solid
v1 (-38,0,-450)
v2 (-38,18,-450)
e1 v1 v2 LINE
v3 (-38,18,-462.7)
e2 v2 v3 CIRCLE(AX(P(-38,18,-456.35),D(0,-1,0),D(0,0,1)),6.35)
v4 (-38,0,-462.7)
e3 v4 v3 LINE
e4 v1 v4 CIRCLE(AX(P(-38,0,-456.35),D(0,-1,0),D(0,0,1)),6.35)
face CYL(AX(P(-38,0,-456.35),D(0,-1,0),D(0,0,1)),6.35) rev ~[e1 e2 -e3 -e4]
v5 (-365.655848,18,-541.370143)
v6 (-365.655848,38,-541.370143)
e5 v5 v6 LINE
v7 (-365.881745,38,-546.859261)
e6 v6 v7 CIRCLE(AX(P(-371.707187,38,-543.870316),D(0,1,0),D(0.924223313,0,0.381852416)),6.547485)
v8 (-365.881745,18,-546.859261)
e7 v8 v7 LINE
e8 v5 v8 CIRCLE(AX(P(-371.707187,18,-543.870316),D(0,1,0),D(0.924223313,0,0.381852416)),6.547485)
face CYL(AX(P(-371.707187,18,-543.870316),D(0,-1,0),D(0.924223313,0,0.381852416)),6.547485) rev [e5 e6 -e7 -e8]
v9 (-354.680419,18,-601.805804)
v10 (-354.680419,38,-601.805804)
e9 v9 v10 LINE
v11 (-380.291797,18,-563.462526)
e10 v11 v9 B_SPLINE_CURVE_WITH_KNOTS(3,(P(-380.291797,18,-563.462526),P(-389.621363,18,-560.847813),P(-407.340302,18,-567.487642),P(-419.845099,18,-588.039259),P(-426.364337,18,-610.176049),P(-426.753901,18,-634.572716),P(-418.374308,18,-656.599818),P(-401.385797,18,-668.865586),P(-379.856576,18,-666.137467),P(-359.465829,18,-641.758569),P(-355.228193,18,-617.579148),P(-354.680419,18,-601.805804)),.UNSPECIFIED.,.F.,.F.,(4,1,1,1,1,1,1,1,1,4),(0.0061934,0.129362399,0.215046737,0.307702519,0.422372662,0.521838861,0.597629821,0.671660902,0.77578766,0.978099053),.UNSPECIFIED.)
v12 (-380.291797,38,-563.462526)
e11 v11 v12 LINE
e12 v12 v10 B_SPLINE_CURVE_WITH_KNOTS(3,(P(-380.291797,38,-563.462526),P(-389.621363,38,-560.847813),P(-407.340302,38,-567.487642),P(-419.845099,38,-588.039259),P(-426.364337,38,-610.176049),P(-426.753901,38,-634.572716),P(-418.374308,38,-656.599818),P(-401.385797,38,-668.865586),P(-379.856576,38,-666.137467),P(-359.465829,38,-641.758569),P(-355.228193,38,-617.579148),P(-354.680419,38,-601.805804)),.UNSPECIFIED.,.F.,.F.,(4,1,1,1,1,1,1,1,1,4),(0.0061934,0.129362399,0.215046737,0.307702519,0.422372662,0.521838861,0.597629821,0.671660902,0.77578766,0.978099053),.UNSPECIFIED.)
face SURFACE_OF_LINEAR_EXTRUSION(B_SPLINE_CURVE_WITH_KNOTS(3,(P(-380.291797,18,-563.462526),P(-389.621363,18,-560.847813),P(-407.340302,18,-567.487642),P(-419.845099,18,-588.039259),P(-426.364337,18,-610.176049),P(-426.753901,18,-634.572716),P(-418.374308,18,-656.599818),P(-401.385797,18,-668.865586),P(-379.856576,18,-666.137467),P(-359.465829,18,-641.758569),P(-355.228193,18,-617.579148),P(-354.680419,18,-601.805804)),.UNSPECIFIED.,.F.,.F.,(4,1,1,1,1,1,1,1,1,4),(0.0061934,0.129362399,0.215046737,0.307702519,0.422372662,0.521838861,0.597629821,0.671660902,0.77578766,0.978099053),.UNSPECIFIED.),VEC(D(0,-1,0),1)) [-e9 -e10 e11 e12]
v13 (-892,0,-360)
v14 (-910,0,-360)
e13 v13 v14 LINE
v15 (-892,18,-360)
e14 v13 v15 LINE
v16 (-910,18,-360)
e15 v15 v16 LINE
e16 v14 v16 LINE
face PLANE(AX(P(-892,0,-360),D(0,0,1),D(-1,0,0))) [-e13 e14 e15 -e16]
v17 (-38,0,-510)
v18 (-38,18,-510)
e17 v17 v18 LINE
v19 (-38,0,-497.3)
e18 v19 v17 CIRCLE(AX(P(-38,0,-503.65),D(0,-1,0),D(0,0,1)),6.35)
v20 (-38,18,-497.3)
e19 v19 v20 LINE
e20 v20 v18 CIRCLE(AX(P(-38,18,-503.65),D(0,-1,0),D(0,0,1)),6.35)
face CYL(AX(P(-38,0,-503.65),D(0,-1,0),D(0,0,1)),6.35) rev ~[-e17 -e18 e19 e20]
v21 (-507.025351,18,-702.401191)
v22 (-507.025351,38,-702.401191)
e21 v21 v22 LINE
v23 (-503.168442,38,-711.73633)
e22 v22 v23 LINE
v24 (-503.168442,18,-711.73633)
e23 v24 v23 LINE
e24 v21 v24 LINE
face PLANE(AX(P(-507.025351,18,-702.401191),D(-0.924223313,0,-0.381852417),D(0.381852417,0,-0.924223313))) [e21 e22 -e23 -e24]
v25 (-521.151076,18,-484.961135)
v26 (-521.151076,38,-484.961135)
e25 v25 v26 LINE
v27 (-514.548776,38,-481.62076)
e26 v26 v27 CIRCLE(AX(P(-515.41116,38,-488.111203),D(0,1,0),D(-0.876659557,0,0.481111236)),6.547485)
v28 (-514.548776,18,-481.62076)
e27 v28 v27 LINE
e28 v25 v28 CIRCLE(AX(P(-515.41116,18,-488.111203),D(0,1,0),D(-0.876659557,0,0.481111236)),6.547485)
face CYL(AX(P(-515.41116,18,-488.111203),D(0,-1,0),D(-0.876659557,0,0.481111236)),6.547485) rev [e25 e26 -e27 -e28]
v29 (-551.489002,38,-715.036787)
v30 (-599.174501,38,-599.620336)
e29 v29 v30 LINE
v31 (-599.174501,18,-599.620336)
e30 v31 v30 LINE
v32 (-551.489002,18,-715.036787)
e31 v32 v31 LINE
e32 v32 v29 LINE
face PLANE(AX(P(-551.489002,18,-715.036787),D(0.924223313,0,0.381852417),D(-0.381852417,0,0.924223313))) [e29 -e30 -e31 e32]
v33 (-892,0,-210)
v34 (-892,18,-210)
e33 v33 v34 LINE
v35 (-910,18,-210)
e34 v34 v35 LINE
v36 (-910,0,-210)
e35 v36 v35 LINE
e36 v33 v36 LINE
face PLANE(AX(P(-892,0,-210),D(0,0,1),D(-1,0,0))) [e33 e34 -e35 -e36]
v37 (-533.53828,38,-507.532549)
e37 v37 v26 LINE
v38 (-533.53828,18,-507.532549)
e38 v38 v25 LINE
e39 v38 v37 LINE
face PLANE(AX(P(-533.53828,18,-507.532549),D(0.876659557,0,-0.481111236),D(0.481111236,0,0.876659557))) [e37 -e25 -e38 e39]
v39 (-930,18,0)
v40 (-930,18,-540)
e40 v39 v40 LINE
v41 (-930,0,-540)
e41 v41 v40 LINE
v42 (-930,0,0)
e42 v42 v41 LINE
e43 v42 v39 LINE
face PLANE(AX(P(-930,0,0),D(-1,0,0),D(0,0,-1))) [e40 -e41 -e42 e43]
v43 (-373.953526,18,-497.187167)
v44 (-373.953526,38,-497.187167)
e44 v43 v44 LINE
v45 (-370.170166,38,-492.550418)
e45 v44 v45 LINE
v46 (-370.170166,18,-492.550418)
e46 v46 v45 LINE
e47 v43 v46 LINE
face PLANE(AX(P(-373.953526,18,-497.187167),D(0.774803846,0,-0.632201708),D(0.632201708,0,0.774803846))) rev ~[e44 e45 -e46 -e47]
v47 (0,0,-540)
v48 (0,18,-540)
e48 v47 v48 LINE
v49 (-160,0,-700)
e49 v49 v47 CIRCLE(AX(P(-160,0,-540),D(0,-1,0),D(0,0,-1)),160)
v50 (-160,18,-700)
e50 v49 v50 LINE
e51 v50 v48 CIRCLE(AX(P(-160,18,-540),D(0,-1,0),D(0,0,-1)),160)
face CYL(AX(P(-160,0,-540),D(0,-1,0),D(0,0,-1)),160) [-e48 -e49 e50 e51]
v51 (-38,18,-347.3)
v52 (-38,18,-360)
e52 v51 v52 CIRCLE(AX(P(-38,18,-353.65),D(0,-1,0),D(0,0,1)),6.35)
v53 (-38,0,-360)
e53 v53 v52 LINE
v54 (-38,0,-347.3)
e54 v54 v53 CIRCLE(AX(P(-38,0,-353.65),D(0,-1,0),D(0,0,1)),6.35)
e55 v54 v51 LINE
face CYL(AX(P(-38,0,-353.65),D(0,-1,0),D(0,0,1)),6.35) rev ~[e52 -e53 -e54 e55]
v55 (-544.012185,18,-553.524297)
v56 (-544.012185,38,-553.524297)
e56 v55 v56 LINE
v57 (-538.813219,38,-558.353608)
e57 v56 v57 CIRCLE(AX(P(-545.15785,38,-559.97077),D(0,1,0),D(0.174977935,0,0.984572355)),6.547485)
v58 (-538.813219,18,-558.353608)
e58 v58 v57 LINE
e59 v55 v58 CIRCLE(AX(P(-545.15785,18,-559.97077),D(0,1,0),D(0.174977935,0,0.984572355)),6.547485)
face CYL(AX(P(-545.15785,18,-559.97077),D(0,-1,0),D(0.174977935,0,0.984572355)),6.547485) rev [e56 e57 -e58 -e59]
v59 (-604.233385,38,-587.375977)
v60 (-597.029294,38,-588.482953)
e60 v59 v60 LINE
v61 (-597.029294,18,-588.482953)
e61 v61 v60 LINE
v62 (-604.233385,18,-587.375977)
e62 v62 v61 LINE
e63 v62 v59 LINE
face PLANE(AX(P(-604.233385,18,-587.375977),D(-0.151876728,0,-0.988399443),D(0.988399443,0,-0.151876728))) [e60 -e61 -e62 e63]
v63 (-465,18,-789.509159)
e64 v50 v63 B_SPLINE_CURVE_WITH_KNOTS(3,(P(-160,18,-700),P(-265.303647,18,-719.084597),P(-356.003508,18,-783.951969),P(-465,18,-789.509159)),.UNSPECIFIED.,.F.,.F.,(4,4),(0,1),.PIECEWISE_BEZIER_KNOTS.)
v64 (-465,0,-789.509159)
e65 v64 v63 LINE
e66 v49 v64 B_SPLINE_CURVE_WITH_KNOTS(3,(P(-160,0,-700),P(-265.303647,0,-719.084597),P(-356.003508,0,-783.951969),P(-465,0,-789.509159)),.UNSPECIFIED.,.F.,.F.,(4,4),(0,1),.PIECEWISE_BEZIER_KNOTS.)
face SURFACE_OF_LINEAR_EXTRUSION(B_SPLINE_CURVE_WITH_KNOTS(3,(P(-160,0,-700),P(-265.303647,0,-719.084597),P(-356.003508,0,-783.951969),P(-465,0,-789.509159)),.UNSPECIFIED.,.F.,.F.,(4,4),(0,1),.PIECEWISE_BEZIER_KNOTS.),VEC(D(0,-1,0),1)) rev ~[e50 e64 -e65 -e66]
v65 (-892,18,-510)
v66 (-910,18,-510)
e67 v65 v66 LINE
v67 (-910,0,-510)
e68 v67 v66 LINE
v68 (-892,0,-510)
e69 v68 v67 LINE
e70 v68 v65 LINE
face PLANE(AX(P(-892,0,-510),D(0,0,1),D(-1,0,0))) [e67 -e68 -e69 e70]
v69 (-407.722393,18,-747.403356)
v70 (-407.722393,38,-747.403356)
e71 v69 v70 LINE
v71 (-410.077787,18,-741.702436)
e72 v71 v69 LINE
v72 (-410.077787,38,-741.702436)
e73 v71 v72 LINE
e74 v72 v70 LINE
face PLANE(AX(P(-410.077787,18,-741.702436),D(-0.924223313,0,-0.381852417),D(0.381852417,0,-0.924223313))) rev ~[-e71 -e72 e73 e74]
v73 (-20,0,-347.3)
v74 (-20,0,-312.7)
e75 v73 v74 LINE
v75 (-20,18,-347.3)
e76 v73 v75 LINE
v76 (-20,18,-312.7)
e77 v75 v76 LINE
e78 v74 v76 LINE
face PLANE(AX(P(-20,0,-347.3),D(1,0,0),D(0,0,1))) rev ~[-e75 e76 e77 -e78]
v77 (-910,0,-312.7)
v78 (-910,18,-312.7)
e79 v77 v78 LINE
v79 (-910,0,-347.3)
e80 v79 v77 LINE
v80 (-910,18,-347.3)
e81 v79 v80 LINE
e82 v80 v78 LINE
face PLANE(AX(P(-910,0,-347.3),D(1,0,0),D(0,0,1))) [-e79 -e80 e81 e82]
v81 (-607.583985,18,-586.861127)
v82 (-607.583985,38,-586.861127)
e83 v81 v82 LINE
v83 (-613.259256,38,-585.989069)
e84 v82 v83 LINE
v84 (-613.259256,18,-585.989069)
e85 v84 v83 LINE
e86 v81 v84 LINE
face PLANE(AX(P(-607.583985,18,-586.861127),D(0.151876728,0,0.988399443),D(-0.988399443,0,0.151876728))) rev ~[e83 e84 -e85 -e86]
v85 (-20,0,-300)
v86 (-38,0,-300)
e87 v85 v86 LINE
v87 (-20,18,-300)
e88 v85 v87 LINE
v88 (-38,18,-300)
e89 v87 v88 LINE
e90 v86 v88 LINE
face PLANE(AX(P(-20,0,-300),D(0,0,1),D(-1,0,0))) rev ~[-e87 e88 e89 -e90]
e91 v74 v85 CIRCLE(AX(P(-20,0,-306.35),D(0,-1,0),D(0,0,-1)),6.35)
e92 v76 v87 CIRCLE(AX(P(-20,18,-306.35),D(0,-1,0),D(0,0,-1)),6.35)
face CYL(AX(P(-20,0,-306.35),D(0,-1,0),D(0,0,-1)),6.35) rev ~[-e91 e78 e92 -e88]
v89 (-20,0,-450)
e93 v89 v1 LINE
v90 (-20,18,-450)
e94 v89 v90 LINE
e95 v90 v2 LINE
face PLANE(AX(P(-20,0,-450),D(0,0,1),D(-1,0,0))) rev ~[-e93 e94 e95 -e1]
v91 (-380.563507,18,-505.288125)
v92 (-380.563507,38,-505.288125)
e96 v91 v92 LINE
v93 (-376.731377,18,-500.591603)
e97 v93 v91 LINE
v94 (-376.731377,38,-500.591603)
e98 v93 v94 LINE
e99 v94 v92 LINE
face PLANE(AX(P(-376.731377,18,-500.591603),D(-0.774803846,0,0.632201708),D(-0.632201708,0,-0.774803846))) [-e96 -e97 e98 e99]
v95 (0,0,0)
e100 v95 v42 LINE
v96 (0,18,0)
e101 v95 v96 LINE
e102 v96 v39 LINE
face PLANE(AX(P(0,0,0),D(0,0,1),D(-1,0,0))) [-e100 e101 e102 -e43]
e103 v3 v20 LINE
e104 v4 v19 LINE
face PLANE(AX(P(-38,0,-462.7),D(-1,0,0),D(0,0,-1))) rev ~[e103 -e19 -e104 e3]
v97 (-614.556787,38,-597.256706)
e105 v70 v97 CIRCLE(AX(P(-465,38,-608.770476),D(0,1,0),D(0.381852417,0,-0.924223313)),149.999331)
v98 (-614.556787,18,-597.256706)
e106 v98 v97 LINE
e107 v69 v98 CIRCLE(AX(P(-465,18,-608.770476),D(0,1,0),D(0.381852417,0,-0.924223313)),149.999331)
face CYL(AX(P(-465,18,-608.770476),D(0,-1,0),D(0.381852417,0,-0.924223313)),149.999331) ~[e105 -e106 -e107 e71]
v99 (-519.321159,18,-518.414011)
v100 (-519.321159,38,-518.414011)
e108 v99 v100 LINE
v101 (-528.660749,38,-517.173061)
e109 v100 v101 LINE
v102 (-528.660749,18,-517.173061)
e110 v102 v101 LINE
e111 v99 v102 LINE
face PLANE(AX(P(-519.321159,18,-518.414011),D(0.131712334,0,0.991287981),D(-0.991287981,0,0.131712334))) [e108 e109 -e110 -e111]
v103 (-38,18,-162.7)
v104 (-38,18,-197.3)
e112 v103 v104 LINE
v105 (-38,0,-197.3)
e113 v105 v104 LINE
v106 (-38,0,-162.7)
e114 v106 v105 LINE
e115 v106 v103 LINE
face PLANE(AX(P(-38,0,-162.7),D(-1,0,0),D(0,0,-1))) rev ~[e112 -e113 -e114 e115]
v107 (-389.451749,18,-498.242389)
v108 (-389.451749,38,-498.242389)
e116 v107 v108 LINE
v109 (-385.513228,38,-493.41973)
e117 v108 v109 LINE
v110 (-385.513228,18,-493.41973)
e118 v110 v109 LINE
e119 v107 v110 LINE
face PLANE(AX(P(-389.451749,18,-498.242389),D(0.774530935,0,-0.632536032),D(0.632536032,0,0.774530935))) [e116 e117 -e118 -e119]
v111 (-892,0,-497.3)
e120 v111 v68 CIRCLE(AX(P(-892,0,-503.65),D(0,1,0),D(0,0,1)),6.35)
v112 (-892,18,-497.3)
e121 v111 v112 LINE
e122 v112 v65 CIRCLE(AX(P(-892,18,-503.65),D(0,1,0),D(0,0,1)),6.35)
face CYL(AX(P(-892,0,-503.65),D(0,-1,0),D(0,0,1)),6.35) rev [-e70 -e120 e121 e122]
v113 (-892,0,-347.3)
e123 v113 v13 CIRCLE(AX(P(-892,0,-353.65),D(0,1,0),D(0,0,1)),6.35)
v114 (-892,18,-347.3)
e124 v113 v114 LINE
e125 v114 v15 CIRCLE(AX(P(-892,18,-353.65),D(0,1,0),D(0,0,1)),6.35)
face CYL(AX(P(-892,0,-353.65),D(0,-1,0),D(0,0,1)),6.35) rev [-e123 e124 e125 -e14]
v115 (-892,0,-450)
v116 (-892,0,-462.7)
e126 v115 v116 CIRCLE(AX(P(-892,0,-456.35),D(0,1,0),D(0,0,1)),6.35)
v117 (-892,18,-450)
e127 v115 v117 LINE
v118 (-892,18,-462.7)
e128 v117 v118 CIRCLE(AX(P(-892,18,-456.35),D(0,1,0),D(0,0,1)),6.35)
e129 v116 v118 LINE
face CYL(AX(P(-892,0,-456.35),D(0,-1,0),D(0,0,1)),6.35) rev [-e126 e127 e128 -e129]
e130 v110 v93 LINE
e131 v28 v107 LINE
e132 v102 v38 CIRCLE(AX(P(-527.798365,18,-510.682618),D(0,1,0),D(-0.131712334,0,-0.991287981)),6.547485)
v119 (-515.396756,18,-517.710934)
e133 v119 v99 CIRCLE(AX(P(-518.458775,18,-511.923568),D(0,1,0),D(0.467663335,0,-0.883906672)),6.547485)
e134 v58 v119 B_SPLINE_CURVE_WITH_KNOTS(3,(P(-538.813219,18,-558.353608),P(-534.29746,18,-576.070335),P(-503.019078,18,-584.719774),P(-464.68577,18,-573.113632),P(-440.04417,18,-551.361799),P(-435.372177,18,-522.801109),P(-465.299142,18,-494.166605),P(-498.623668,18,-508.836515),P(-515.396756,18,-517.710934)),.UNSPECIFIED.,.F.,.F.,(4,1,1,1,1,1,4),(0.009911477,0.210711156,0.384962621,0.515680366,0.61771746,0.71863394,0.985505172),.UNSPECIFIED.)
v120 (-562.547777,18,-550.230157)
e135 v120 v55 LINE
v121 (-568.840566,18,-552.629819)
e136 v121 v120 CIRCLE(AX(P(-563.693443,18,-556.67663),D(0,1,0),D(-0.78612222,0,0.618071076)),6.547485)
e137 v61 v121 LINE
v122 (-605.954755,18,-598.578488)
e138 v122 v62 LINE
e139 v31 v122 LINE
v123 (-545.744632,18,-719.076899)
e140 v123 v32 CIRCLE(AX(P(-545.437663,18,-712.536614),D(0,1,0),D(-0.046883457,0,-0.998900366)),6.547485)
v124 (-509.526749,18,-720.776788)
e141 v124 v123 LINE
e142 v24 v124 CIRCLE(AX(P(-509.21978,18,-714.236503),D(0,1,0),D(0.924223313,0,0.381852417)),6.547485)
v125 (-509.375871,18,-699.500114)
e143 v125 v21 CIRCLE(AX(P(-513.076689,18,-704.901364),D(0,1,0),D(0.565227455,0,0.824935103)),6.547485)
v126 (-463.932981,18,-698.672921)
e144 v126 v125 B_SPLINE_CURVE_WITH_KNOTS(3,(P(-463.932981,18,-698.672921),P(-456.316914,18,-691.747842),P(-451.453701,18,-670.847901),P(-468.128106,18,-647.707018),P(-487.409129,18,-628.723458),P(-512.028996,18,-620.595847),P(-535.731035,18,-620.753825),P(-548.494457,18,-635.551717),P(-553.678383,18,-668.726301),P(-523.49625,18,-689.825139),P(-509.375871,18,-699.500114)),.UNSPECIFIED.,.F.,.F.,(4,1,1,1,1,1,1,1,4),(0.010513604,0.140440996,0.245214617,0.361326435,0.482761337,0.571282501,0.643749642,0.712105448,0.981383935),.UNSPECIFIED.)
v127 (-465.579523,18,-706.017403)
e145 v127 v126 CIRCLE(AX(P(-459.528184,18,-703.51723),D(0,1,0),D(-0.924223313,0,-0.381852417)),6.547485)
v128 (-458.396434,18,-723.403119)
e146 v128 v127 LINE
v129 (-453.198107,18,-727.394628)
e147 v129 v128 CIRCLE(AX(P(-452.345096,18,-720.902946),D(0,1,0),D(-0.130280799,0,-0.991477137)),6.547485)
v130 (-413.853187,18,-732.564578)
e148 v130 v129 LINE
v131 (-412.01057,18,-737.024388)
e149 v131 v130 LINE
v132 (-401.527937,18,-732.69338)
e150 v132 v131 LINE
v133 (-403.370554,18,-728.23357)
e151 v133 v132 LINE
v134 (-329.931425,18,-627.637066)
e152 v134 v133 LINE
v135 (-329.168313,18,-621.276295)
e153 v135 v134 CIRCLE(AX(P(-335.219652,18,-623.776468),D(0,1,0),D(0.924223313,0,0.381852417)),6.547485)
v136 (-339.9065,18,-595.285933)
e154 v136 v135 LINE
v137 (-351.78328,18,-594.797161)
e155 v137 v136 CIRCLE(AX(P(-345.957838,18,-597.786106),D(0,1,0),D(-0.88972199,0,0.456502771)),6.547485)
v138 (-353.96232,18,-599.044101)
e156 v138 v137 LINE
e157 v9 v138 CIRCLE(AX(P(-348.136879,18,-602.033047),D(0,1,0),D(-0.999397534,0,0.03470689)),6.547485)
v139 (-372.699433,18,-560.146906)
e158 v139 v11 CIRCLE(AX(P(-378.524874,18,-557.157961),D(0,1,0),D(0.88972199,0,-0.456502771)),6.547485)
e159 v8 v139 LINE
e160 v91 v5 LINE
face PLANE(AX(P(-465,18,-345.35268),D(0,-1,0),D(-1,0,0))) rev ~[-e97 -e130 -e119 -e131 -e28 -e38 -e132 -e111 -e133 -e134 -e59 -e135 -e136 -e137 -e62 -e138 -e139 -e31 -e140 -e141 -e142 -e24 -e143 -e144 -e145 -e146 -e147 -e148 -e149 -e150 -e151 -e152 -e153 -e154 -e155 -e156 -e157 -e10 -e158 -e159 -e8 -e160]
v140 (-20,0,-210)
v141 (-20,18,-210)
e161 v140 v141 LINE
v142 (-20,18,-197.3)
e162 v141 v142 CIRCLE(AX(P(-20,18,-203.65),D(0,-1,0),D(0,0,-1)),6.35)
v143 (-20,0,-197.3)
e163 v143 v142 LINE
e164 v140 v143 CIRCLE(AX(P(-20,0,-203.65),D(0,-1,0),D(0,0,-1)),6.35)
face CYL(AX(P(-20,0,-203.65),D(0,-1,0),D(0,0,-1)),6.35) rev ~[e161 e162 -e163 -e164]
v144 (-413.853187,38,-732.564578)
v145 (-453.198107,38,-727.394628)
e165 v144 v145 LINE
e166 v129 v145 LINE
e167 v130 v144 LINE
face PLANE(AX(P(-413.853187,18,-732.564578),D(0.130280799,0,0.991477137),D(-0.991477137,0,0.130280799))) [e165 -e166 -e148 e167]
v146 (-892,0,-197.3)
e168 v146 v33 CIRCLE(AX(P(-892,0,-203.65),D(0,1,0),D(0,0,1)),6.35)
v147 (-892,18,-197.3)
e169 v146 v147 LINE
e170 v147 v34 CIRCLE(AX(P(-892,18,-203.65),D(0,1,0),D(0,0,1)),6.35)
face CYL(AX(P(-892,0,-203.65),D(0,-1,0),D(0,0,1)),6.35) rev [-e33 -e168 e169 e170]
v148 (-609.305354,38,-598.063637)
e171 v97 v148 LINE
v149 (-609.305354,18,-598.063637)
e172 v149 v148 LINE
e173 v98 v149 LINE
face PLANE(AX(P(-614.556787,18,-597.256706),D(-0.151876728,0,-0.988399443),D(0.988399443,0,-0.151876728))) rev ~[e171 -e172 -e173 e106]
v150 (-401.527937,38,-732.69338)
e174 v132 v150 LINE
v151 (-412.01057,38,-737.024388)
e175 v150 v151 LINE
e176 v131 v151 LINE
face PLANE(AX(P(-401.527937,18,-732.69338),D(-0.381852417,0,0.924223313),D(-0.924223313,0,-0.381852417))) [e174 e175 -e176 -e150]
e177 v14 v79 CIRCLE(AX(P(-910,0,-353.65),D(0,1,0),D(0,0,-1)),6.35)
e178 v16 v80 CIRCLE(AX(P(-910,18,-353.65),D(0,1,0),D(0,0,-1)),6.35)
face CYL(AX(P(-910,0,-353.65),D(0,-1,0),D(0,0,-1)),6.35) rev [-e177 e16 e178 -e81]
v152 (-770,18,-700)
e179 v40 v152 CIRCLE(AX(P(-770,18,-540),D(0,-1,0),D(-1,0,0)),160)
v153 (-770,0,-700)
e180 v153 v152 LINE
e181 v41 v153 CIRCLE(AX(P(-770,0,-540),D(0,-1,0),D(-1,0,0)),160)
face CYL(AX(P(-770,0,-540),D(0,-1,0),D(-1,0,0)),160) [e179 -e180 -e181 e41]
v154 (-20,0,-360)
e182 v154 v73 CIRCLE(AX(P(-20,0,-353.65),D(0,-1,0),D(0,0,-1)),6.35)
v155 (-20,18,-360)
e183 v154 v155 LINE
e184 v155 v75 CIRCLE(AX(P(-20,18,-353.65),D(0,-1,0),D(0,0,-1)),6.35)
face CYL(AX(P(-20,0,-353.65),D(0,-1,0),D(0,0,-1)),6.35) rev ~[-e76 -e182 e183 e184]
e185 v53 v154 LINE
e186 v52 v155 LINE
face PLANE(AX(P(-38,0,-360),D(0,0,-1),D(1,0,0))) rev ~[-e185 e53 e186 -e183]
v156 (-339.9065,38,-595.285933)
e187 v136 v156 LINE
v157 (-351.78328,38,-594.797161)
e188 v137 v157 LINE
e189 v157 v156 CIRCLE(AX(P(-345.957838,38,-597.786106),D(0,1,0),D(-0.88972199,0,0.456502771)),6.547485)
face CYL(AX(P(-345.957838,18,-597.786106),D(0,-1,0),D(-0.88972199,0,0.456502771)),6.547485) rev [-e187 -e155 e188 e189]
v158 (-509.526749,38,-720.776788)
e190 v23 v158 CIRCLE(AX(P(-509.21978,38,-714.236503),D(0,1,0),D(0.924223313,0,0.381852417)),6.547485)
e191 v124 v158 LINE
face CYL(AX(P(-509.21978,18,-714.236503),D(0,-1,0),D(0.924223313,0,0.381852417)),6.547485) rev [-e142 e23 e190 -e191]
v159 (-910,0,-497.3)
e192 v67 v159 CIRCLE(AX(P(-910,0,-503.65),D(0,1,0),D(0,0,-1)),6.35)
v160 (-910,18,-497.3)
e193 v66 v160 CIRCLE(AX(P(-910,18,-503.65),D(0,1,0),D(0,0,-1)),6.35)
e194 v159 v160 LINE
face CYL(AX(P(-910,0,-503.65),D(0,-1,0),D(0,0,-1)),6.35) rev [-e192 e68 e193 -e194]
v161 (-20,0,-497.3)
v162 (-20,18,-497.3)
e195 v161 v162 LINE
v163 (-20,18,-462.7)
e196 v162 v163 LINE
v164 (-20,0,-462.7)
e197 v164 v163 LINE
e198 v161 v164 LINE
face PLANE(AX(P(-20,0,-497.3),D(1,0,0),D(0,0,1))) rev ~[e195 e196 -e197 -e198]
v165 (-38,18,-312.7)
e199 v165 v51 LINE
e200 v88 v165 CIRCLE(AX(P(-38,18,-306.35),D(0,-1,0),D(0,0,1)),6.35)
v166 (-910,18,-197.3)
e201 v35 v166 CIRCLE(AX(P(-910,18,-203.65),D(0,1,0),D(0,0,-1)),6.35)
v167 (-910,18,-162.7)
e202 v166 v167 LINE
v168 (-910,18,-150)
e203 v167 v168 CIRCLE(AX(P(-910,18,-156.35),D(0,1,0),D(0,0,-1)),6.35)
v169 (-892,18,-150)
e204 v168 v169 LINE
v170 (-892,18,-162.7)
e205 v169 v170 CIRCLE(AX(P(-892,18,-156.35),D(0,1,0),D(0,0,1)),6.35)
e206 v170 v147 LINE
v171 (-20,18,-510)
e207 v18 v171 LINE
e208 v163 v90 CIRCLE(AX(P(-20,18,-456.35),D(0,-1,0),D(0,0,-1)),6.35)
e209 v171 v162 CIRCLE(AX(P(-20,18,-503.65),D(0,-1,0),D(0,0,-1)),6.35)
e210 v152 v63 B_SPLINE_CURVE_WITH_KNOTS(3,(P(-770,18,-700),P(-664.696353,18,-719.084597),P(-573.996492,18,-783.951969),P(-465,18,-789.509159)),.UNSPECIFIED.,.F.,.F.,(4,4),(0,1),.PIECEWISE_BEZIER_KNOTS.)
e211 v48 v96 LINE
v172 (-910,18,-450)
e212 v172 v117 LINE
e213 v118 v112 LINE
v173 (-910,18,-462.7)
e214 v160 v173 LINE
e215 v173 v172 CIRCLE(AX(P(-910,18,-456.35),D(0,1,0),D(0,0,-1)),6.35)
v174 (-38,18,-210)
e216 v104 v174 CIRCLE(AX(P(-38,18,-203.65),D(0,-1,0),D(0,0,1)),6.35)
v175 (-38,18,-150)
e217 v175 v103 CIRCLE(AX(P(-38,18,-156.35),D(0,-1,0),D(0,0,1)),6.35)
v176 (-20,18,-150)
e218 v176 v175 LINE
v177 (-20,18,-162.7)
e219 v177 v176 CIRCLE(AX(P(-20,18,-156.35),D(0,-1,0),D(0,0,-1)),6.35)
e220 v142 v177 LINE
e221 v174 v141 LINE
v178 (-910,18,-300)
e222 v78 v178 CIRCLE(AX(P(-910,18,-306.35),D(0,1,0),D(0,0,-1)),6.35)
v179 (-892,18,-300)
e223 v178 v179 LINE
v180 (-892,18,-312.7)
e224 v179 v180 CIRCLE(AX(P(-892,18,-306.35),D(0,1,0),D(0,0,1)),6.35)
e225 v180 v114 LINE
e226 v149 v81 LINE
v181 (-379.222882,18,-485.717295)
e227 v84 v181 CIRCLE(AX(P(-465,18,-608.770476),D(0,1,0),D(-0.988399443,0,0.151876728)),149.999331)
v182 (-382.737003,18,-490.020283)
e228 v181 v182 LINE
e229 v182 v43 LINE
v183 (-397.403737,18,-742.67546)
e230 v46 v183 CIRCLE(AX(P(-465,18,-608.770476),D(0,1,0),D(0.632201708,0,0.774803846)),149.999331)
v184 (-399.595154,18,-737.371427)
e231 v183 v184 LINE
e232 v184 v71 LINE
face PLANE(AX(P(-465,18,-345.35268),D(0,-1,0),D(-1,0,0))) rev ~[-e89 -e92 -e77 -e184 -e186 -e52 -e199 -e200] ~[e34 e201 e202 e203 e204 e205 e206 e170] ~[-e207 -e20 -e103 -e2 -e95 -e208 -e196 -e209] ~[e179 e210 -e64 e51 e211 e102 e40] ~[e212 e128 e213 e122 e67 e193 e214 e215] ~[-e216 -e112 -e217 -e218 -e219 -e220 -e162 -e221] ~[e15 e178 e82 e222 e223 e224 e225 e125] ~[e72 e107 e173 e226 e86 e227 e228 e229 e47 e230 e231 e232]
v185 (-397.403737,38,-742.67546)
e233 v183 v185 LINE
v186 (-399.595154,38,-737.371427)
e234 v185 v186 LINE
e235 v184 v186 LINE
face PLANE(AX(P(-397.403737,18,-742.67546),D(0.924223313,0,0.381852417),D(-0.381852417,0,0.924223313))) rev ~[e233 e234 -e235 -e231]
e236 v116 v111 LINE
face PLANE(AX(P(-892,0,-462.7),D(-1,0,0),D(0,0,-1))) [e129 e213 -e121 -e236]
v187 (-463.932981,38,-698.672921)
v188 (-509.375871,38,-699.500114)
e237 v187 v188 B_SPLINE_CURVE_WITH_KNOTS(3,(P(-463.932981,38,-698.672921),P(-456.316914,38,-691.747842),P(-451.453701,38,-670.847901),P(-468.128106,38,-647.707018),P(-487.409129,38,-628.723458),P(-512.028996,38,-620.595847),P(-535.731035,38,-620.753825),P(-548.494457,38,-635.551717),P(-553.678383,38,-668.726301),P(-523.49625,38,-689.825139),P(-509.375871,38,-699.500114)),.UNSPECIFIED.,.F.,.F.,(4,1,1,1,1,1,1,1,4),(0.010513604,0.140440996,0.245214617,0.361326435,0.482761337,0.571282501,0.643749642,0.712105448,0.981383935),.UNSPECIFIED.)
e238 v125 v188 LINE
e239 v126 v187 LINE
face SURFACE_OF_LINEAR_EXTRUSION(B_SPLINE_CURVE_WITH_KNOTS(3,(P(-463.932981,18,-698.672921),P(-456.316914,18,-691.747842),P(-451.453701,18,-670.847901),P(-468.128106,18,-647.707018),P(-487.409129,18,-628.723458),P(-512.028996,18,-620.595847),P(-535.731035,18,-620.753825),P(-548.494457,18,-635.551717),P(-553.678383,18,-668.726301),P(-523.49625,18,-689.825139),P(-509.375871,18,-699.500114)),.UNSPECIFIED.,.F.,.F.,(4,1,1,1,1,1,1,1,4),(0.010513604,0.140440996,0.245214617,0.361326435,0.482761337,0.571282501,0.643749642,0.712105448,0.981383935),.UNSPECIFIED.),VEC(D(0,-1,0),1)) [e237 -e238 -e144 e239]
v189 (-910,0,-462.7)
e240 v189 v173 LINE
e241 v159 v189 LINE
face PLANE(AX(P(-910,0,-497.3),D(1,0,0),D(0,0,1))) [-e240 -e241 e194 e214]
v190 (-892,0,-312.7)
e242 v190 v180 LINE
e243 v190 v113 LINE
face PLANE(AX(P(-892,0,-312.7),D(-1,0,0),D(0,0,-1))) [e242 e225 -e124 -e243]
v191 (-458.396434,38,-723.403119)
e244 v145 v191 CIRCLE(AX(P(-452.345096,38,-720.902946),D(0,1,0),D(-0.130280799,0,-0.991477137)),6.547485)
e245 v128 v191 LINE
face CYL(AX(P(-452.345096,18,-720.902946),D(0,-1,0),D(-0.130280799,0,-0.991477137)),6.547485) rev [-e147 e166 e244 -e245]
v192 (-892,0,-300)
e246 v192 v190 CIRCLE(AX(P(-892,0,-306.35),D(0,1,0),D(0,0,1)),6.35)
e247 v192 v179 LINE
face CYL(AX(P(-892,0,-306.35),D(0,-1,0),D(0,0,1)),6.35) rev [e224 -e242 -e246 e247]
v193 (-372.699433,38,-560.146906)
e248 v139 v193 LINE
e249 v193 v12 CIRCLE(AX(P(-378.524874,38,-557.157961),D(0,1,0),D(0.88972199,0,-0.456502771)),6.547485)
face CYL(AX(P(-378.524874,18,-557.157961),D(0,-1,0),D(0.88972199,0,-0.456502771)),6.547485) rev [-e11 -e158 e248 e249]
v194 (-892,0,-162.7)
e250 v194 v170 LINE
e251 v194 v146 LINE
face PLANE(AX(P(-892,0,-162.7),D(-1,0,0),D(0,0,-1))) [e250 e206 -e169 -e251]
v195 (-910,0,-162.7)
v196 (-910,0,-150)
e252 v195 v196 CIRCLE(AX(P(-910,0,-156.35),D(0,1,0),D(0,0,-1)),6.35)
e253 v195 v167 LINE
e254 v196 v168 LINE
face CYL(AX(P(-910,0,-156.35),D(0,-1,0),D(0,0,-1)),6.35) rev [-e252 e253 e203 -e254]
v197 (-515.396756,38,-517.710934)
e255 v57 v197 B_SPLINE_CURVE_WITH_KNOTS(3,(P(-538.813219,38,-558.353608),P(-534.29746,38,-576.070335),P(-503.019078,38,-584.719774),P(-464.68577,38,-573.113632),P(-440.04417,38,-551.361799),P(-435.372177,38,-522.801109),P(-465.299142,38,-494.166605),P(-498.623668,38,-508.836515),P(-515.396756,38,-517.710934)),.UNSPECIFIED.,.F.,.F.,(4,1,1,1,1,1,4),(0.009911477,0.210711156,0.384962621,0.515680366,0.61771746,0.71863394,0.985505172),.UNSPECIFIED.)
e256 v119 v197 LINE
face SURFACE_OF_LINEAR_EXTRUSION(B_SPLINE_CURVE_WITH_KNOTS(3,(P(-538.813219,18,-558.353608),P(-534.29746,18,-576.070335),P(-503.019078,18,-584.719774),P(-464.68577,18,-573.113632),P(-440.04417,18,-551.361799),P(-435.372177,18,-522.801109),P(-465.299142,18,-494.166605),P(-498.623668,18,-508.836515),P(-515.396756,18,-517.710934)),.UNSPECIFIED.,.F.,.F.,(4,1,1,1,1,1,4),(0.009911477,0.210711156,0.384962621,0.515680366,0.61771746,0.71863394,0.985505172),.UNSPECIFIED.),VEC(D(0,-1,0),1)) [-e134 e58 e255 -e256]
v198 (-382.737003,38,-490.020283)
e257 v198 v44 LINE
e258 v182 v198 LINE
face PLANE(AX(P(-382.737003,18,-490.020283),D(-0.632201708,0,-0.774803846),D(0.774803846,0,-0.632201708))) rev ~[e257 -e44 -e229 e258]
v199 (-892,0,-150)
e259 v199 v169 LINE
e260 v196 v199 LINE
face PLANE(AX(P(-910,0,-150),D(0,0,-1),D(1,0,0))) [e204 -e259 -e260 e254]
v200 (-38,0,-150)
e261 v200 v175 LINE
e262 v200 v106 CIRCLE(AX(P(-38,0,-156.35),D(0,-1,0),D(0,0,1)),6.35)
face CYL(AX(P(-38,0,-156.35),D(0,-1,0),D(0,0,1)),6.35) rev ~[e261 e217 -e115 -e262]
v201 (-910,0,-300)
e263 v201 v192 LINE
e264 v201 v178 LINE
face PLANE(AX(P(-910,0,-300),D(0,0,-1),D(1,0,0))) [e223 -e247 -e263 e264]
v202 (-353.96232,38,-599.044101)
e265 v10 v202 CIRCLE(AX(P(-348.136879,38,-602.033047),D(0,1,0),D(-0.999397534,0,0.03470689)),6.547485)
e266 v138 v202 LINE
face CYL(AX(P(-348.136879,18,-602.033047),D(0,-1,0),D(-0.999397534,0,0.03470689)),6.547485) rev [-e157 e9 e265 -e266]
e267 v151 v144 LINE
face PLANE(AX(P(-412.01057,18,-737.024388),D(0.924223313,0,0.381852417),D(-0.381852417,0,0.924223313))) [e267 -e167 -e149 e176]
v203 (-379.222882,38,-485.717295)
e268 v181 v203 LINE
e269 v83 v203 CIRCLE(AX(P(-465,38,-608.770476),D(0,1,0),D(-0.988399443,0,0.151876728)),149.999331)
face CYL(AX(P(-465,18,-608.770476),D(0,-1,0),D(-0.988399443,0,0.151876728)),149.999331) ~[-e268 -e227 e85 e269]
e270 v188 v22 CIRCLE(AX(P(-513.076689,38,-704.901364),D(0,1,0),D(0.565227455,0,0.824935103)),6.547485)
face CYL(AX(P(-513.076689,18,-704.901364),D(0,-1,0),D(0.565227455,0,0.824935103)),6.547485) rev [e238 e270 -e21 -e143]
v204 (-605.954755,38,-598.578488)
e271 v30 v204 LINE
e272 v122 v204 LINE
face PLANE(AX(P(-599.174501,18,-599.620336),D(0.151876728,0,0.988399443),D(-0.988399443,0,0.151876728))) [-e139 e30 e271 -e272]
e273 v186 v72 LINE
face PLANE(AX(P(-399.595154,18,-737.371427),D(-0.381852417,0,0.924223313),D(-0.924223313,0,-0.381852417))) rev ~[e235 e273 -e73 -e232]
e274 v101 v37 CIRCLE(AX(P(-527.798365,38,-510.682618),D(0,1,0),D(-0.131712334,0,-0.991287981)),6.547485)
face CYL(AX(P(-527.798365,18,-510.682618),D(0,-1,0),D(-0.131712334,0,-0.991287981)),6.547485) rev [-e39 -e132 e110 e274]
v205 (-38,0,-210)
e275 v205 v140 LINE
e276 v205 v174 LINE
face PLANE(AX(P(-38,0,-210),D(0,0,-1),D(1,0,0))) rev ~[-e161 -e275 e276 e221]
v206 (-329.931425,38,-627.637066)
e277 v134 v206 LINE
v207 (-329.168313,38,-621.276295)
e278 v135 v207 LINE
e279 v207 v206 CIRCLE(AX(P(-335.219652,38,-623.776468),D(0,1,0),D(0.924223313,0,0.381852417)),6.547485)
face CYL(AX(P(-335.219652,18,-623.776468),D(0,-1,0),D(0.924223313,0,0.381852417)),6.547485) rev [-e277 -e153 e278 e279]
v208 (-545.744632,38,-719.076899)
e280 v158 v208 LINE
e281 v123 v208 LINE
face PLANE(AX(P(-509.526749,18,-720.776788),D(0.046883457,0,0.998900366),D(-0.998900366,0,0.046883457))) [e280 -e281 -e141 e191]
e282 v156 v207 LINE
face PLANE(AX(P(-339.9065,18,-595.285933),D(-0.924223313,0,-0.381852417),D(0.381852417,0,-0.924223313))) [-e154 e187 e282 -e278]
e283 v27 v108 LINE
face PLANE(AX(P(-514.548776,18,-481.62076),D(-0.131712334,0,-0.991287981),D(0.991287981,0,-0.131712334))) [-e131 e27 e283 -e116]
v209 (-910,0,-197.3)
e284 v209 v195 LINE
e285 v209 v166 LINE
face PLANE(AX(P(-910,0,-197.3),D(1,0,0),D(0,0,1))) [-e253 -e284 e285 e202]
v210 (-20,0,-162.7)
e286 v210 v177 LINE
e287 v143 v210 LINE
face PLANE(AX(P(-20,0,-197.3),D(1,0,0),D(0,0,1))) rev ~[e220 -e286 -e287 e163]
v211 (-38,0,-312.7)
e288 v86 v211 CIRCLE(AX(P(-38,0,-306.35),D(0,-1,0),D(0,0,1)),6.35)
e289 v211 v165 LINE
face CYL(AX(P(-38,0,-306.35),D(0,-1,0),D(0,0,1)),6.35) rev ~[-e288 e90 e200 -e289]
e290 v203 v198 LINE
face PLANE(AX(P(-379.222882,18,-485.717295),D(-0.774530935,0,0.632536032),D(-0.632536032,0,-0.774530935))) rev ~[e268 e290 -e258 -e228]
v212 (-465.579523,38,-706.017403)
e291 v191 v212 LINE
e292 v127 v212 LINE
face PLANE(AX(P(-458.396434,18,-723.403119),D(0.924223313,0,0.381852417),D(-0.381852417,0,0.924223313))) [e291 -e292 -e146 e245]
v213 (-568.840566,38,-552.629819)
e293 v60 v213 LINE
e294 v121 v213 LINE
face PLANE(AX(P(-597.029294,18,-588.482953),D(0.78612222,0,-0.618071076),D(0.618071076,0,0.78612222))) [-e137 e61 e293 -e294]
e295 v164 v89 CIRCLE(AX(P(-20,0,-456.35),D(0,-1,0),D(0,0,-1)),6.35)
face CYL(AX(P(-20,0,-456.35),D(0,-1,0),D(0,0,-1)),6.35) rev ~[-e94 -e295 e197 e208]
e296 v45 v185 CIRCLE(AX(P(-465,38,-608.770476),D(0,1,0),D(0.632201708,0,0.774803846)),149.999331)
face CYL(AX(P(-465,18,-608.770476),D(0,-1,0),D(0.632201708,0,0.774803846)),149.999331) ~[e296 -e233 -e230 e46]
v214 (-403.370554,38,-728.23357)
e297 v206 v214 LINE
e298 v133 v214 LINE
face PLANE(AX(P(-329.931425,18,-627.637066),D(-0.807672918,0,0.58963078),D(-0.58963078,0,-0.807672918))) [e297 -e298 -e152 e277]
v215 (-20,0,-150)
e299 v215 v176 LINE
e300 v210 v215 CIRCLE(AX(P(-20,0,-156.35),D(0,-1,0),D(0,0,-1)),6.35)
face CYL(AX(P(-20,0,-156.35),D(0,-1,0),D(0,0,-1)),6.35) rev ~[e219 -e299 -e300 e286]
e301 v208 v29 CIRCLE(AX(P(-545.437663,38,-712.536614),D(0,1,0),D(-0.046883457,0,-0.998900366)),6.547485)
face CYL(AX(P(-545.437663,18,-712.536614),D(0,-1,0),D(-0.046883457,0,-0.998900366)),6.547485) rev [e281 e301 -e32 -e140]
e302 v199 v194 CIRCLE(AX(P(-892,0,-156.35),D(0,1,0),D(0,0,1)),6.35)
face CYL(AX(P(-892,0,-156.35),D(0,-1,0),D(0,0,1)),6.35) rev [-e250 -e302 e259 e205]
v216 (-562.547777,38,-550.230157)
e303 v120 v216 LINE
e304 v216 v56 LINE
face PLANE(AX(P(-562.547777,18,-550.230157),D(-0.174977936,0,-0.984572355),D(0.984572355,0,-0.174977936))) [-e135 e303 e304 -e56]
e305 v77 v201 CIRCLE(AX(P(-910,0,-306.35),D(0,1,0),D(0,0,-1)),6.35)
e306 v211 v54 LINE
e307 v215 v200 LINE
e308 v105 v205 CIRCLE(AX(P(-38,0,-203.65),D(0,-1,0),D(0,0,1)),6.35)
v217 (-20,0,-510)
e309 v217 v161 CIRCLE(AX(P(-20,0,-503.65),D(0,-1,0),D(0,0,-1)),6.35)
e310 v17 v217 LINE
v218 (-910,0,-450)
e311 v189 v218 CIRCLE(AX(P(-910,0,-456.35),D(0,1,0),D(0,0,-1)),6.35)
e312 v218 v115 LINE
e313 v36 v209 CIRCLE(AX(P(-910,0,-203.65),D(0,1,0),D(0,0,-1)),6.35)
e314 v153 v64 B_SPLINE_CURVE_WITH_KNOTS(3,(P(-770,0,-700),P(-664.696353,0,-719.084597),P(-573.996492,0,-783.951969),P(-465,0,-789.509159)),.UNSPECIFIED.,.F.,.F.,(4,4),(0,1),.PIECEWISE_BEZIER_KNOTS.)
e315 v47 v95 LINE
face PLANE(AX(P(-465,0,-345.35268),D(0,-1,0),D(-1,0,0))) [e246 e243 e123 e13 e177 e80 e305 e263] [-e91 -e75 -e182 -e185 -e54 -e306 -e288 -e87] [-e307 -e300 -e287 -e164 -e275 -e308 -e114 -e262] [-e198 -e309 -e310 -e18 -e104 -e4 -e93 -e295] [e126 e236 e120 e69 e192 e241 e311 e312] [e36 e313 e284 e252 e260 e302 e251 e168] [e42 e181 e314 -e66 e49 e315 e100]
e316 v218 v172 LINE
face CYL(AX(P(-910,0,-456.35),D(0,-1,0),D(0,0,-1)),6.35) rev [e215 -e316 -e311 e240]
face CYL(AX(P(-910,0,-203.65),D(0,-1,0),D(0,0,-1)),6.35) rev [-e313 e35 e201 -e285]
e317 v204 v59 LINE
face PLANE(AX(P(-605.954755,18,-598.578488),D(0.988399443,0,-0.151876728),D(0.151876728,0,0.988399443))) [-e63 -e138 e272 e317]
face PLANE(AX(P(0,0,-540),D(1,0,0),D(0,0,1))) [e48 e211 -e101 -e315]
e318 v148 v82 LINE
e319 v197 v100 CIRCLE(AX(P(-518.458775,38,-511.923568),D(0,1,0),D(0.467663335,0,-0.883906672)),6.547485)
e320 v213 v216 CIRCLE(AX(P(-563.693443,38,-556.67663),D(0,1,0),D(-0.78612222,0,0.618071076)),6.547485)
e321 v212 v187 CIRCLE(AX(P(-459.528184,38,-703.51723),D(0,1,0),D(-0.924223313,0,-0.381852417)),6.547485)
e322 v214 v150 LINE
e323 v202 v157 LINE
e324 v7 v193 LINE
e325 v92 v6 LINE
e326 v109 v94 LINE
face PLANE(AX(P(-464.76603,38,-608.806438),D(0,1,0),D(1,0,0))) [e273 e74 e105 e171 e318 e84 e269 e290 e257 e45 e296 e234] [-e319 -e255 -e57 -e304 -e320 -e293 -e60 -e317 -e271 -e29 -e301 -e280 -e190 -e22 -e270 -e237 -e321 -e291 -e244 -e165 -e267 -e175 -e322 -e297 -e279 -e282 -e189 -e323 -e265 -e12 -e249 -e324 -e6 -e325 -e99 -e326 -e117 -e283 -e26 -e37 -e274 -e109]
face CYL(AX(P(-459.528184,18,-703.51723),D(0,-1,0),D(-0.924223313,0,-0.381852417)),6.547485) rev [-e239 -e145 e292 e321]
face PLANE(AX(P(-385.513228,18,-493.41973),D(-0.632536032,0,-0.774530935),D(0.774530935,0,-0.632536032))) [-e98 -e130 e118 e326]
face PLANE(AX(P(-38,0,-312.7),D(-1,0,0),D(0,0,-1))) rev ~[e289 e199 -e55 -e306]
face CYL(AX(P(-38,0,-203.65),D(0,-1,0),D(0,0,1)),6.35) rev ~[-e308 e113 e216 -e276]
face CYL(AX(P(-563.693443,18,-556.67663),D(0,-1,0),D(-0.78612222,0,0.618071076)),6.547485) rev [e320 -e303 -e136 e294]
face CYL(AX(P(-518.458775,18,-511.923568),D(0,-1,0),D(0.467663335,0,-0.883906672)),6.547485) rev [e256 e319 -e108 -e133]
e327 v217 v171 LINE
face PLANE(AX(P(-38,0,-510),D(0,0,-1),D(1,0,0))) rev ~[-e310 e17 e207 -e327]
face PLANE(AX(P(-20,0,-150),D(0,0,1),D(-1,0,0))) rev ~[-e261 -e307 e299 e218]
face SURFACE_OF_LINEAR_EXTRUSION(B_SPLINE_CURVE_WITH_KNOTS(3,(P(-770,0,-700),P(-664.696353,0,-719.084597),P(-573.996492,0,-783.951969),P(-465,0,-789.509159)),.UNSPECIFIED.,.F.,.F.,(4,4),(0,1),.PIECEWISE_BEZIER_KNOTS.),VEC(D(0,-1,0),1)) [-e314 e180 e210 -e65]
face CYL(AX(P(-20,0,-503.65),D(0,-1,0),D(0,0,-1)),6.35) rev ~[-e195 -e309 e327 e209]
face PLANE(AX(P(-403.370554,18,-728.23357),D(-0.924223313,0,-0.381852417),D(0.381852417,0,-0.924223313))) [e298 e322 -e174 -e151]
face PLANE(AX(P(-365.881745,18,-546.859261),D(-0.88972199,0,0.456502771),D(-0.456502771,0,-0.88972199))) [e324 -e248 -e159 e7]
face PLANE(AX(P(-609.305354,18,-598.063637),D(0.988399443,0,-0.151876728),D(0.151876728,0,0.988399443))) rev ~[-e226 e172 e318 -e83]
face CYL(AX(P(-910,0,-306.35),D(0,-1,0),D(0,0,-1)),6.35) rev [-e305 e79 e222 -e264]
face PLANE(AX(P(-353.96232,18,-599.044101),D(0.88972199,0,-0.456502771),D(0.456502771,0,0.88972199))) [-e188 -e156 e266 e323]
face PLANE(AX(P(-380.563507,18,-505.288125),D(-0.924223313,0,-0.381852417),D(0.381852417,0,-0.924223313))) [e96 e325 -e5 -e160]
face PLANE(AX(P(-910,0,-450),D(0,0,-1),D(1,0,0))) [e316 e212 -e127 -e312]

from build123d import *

# Parameters (mm, degrees)
BOSS_EXTRUDE1_DEPTH = 18
BOSS_EXTRUDE3_DEPTH = 20


with BuildPart() as part:
    # Sketch3 → Boss-Extrude1 (new body)
    with BuildSketch(Plane(origin=(0, 0, 0), x_dir=(1, 0, 0), z_dir=(0, 1, 0))):
        with BuildLine():
            Line((0, 0), (-930, 0))
            Line((-930, 0), (-930, 540))
            ThreePointArc((-930, 540), (-883.13708499, 653.13708499), (-770, 700))
            add(Edge.make_bspline(
                [(-770, 700), (-664.69635322, 719.084597111), (-573.996492447, 783.951968622), (-465, 789.509158613)],
                knots=[0, 0, 0, 0, 1, 1, 1, 1], degree=3))
            add(Edge.make_bspline(
                [(-160, 700), (-265.30364678, 719.084597111), (-356.003507553, 783.951968622), (-465, 789.509158613)],
                knots=[0, 0, 0, 0, 1, 1, 1, 1], degree=3))
            ThreePointArc((-160, 700), (-46.86291501, 653.13708499), (0, 540))
            Line((0, 540), (0, 0))
        make_face()
        with BuildLine():
            Line((-20, 150), (-38, 150))
            ThreePointArc((-38, 150), (-44.35, 156.35), (-38, 162.7))
            Line((-38, 162.7), (-38, 197.3))
            ThreePointArc((-38, 197.3), (-44.35, 203.65), (-38, 210))
            Line((-38, 210), (-20, 210))
            ThreePointArc((-20, 210), (-13.65, 203.65), (-20, 197.3))
            Line((-20, 197.3), (-20, 162.7))
            ThreePointArc((-20, 162.7), (-13.65, 156.35), (-20, 150))
        make_face(mode=Mode.SUBTRACT)
        with BuildLine():
            Line((-910, 450), (-892, 450))
            ThreePointArc((-892, 450), (-885.65, 456.35), (-892, 462.7))
            Line((-892, 462.7), (-892, 497.3))
            ThreePointArc((-892, 497.3), (-885.65, 503.65), (-892, 510))
            Line((-892, 510), (-910, 510))
            ThreePointArc((-910, 510), (-916.35, 503.65), (-910, 497.3))
            Line((-910, 497.3), (-910, 462.7))
            ThreePointArc((-910, 462.7), (-916.35, 456.35), (-910, 450))
        make_face(mode=Mode.SUBTRACT)
        with BuildLine():
            Line((-910, 300), (-892, 300))
            ThreePointArc((-892, 300), (-885.65, 306.35), (-892, 312.7))
            Line((-892, 312.7), (-892, 347.3))
            ThreePointArc((-892, 347.3), (-885.65, 353.65), (-892, 360))
            Line((-892, 360), (-910, 360))
            ThreePointArc((-910, 360), (-916.35, 353.65), (-910, 347.3))
            Line((-910, 347.3), (-910, 312.7))
            ThreePointArc((-910, 312.7), (-916.35, 306.35), (-910, 300))
        make_face(mode=Mode.SUBTRACT)
        with BuildLine():
            Line((-910, 150), (-892, 150))
            ThreePointArc((-892, 150), (-885.65, 156.35), (-892, 162.7))
            Line((-892, 162.7), (-892, 197.3))
            ThreePointArc((-892, 197.3), (-885.65, 203.65), (-892, 210))
            Line((-892, 210), (-910, 210))
            ThreePointArc((-910, 210), (-916.35, 203.65), (-910, 197.3))
            Line((-910, 197.3), (-910, 162.7))
            ThreePointArc((-910, 162.7), (-916.35, 156.35), (-910, 150))
        make_face(mode=Mode.SUBTRACT)
        with BuildLine():
            Line((-38, 312.7), (-38, 347.3))
            ThreePointArc((-38, 347.3), (-44.35, 353.65), (-38, 360))
            Line((-38, 360), (-20, 360))
            ThreePointArc((-20, 360), (-13.65, 353.65), (-20, 347.3))
            Line((-20, 347.3), (-20, 312.7))
            ThreePointArc((-20, 312.7), (-13.65, 306.35), (-20, 300))
            Line((-20, 300), (-38, 300))
            ThreePointArc((-38, 300), (-44.35, 306.35), (-38, 312.7))
        make_face(mode=Mode.SUBTRACT)
        with BuildLine():
            Line((-20, 450), (-38, 450))
            ThreePointArc((-38, 450), (-44.35, 456.35), (-38, 462.7))
            Line((-38, 462.7), (-38, 497.3))
            ThreePointArc((-38, 497.3), (-44.35, 503.65), (-38, 510))
            Line((-38, 510), (-20, 510))
            ThreePointArc((-20, 510), (-13.65, 503.65), (-20, 497.3))
            Line((-20, 497.3), (-20, 462.7))
            ThreePointArc((-20, 462.7), (-13.65, 456.35), (-20, 450))
        make_face(mode=Mode.SUBTRACT)
    extrude(amount=BOSS_EXTRUDE1_DEPTH)

    # Sketch4 → Boss-Extrude3 (add)
    with BuildSketch(Plane(origin=(0, 18, 0), x_dir=(1, 0, 0), z_dir=(0, 1, 0))):
        with BuildLine():
            Line((-379.222882365, 485.717294758), (-382.737003031, 490.02028309))
            Line((-382.737003031, 490.02028309), (-373.95352551, 497.187167352))
            Line((-373.95352551, 497.187167352), (-370.170166428, 492.550417512))
            ThreePointArc((-370.170166428, 492.550417512), (-315.881947929, 625.006423951), (-397.403737413, 742.675460443))
            Line((-397.403737413, 742.675460443), (-399.595153576, 737.371427218))
            Line((-399.595153576, 737.371427218), (-410.077786811, 741.702435514))
            Line((-410.077786811, 741.702435514), (-407.722392765, 747.403355536))
            ThreePointArc((-407.722392765, 747.403355536), (-553.118476248, 730.158011216), (-614.556786971, 597.256705849))
            Line((-614.556786971, 597.256705849), (-609.305354492, 598.063637084))
            Line((-609.305354492, 598.063637084), (-607.58398502, 586.861126686))
            Line((-607.58398502, 586.861126686), (-613.25925572, 585.989068783))
            ThreePointArc((-613.25925572, 585.989068783), (-524.072934254, 470.893038587), (-379.222882365, 485.717294758))
        make_face()
        with BuildLine():
            Line((-605.954754503, 598.578487803), (-604.233385032, 587.375977405))
            Line((-604.233385032, 587.375977405), (-597.029293803, 588.482952741))
            Line((-597.029293803, 588.482952741), (-568.840566092, 552.629818575))
            ThreePointArc((-568.840566092, 552.629818575), (-566.026361545, 550.558864621), (-562.547777239, 550.230156949))
            Line((-562.547777239, 550.230156949), (-544.012184687, 553.5242975))
            ThreePointArc((-544.012184687, 553.5242975), (-540.701764813, 555.173597747), (-538.813218815, 558.353607977))
            add(Edge.make_bspline(
                [(-538.813218815, 558.353607977), (-534.297460402, 576.070334999), (-503.019078365, 584.719773706), (-464.685769523, 573.113632357), (-440.044169756, 551.361798965), (-435.372177088, 522.801108934), (-465.299141833, 494.166605222), (-498.623668355, 508.836515007), (-515.396755845, 517.710933859)],
                knots=[0.009911477, 0.009911477, 0.009911477, 0.009911477, 0.210711156, 0.384962621, 0.515680366, 0.61771746, 0.71863394, 0.985505172, 0.985505172, 0.985505172, 0.985505172], degree=3))
            ThreePointArc((-515.396755845, 517.710933859), (-517.304141637, 518.368440775), (-519.321159046, 518.414011368))
            Line((-519.321159046, 518.414011368), (-528.660749273, 517.173060959))
            ThreePointArc((-528.660749273, 517.173060959), (-533.640663746, 513.638476733), (-533.538280042, 507.532549172))
            Line((-533.538280042, 507.532549172), (-521.15107554, 484.961134511))
            ThreePointArc((-521.15107554, 484.961134511), (-518.367019202, 482.26890411), (-514.548775713, 481.620759927))
            Line((-514.548775713, 481.620759927), (-389.451748889, 498.242389225))
            Line((-389.451748889, 498.242389225), (-385.513228418, 493.419729662))
            Line((-385.513228418, 493.419729662), (-376.731376811, 500.591602748))
            Line((-376.731376811, 500.591602748), (-380.563507134, 505.28812488))
            Line((-380.563507134, 505.28812488), (-365.655848241, 541.370143173))
            ThreePointArc((-365.655848241, 541.370143173), (-365.165238954, 544.139540747), (-365.881745133, 546.85926119))
            Line((-365.881745133, 546.85926119), (-372.699432744, 560.146905814))
            ThreePointArc((-372.699432744, 560.146905814), (-375.904525506, 563.158238505), (-380.291797246, 563.462525982))
            add(Edge.make_bspline(
                [(-380.291797246, 563.462525982), (-389.62136338, 560.847813387), (-407.34030176, 567.487642274), (-419.84509917, 588.039259046), (-426.364337105, 610.176048947), (-426.75390148, 634.572716458), (-418.374308101, 656.599818062), (-401.385797189, 668.865586287), (-379.856576304, 666.13746701), (-359.465829462, 641.758569228), (-355.228193135, 617.579148091), (-354.680419376, 601.80580369)],
                knots=[0.0061934, 0.0061934, 0.0061934, 0.0061934, 0.129362399, 0.215046737, 0.307702519, 0.422372662, 0.521838861, 0.597629821, 0.671660902, 0.77578766, 0.978099053, 0.978099053, 0.978099053, 0.978099053], degree=3))
            ThreePointArc((-354.680419376, 601.80580369), (-354.473650835, 600.385356434), (-353.962320397, 599.044101492))
            Line((-353.962320397, 599.044101492), (-351.783279864, 594.797160611))
            ThreePointArc((-351.783279864, 594.797160611), (-345.688613875, 591.244158092), (-339.906500201, 595.285932686))
            Line((-339.906500201, 595.285932686), (-329.168313442, 621.276294679))
            ThreePointArc((-329.168313442, 621.276294679), (-328.718783675, 624.556387197), (-329.931425401, 627.637066339))
            Line((-329.931425401, 627.637066339), (-403.370553681, 728.233570185))
            Line((-403.370553681, 728.233570185), (-401.527937134, 732.693380033))
            Line((-401.527937134, 732.693380033), (-412.01057037, 737.024388329))
            Line((-412.01057037, 737.024388329), (-413.853186916, 732.564578481))
            Line((-413.853186916, 732.564578481), (-453.198107375, 727.394628039))
            ThreePointArc((-453.198107375, 727.394628039), (-456.332644817, 726.096116164), (-458.396434076, 723.403119327))
            Line((-458.396434076, 723.403119327), (-465.579522616, 706.017402764))
            ThreePointArc((-465.579522616, 706.017402764), (-465.917084215, 702.084917604), (-463.932980801, 698.672920972))
            add(Edge.make_bspline(
                [(-463.932980801, 698.672920972), (-456.316914214, 691.747841587), (-451.453700795, 670.847901054), (-468.128106478, 647.707017887), (-487.409129401, 628.723458004), (-512.02899646, 620.595846866), (-535.731034887, 620.753825005), (-548.494456823, 635.551717206), (-553.67838325, 668.726301345), (-523.496250086, 689.825139347), (-509.375871044, 699.500113635)],
                knots=[0.010513604, 0.010513604, 0.010513604, 0.010513604, 0.140440996, 0.245214617, 0.361326435, 0.482761337, 0.571282501, 0.643749642, 0.712105448, 0.981383935, 0.981383935, 0.981383935, 0.981383935], degree=3))
            ThreePointArc((-509.375871044, 699.500113635), (-507.989430568, 700.779548939), (-507.02535105, 702.401190876))
            Line((-507.02535105, 702.401190876), (-503.168441841, 711.736329924))
            ThreePointArc((-503.168441841, 711.736329924), (-503.864230082, 718.003151755), (-509.526748851, 720.776788059))
            Line((-509.526748851, 720.776788059), (-545.744632169, 719.076899224))
            ThreePointArc((-545.744632169, 719.076899224), (-549.204312297, 717.892164096), (-551.489001713, 715.036787031))
            Line((-551.489001713, 715.036787031), (-599.174501495, 599.620336472))
            Line((-599.174501495, 599.620336472), (-605.954754503, 598.578487803))
        make_face(mode=Mode.SUBTRACT)
    extrude(amount=BOSS_EXTRUDE3_DEPTH)


solid = part.part
